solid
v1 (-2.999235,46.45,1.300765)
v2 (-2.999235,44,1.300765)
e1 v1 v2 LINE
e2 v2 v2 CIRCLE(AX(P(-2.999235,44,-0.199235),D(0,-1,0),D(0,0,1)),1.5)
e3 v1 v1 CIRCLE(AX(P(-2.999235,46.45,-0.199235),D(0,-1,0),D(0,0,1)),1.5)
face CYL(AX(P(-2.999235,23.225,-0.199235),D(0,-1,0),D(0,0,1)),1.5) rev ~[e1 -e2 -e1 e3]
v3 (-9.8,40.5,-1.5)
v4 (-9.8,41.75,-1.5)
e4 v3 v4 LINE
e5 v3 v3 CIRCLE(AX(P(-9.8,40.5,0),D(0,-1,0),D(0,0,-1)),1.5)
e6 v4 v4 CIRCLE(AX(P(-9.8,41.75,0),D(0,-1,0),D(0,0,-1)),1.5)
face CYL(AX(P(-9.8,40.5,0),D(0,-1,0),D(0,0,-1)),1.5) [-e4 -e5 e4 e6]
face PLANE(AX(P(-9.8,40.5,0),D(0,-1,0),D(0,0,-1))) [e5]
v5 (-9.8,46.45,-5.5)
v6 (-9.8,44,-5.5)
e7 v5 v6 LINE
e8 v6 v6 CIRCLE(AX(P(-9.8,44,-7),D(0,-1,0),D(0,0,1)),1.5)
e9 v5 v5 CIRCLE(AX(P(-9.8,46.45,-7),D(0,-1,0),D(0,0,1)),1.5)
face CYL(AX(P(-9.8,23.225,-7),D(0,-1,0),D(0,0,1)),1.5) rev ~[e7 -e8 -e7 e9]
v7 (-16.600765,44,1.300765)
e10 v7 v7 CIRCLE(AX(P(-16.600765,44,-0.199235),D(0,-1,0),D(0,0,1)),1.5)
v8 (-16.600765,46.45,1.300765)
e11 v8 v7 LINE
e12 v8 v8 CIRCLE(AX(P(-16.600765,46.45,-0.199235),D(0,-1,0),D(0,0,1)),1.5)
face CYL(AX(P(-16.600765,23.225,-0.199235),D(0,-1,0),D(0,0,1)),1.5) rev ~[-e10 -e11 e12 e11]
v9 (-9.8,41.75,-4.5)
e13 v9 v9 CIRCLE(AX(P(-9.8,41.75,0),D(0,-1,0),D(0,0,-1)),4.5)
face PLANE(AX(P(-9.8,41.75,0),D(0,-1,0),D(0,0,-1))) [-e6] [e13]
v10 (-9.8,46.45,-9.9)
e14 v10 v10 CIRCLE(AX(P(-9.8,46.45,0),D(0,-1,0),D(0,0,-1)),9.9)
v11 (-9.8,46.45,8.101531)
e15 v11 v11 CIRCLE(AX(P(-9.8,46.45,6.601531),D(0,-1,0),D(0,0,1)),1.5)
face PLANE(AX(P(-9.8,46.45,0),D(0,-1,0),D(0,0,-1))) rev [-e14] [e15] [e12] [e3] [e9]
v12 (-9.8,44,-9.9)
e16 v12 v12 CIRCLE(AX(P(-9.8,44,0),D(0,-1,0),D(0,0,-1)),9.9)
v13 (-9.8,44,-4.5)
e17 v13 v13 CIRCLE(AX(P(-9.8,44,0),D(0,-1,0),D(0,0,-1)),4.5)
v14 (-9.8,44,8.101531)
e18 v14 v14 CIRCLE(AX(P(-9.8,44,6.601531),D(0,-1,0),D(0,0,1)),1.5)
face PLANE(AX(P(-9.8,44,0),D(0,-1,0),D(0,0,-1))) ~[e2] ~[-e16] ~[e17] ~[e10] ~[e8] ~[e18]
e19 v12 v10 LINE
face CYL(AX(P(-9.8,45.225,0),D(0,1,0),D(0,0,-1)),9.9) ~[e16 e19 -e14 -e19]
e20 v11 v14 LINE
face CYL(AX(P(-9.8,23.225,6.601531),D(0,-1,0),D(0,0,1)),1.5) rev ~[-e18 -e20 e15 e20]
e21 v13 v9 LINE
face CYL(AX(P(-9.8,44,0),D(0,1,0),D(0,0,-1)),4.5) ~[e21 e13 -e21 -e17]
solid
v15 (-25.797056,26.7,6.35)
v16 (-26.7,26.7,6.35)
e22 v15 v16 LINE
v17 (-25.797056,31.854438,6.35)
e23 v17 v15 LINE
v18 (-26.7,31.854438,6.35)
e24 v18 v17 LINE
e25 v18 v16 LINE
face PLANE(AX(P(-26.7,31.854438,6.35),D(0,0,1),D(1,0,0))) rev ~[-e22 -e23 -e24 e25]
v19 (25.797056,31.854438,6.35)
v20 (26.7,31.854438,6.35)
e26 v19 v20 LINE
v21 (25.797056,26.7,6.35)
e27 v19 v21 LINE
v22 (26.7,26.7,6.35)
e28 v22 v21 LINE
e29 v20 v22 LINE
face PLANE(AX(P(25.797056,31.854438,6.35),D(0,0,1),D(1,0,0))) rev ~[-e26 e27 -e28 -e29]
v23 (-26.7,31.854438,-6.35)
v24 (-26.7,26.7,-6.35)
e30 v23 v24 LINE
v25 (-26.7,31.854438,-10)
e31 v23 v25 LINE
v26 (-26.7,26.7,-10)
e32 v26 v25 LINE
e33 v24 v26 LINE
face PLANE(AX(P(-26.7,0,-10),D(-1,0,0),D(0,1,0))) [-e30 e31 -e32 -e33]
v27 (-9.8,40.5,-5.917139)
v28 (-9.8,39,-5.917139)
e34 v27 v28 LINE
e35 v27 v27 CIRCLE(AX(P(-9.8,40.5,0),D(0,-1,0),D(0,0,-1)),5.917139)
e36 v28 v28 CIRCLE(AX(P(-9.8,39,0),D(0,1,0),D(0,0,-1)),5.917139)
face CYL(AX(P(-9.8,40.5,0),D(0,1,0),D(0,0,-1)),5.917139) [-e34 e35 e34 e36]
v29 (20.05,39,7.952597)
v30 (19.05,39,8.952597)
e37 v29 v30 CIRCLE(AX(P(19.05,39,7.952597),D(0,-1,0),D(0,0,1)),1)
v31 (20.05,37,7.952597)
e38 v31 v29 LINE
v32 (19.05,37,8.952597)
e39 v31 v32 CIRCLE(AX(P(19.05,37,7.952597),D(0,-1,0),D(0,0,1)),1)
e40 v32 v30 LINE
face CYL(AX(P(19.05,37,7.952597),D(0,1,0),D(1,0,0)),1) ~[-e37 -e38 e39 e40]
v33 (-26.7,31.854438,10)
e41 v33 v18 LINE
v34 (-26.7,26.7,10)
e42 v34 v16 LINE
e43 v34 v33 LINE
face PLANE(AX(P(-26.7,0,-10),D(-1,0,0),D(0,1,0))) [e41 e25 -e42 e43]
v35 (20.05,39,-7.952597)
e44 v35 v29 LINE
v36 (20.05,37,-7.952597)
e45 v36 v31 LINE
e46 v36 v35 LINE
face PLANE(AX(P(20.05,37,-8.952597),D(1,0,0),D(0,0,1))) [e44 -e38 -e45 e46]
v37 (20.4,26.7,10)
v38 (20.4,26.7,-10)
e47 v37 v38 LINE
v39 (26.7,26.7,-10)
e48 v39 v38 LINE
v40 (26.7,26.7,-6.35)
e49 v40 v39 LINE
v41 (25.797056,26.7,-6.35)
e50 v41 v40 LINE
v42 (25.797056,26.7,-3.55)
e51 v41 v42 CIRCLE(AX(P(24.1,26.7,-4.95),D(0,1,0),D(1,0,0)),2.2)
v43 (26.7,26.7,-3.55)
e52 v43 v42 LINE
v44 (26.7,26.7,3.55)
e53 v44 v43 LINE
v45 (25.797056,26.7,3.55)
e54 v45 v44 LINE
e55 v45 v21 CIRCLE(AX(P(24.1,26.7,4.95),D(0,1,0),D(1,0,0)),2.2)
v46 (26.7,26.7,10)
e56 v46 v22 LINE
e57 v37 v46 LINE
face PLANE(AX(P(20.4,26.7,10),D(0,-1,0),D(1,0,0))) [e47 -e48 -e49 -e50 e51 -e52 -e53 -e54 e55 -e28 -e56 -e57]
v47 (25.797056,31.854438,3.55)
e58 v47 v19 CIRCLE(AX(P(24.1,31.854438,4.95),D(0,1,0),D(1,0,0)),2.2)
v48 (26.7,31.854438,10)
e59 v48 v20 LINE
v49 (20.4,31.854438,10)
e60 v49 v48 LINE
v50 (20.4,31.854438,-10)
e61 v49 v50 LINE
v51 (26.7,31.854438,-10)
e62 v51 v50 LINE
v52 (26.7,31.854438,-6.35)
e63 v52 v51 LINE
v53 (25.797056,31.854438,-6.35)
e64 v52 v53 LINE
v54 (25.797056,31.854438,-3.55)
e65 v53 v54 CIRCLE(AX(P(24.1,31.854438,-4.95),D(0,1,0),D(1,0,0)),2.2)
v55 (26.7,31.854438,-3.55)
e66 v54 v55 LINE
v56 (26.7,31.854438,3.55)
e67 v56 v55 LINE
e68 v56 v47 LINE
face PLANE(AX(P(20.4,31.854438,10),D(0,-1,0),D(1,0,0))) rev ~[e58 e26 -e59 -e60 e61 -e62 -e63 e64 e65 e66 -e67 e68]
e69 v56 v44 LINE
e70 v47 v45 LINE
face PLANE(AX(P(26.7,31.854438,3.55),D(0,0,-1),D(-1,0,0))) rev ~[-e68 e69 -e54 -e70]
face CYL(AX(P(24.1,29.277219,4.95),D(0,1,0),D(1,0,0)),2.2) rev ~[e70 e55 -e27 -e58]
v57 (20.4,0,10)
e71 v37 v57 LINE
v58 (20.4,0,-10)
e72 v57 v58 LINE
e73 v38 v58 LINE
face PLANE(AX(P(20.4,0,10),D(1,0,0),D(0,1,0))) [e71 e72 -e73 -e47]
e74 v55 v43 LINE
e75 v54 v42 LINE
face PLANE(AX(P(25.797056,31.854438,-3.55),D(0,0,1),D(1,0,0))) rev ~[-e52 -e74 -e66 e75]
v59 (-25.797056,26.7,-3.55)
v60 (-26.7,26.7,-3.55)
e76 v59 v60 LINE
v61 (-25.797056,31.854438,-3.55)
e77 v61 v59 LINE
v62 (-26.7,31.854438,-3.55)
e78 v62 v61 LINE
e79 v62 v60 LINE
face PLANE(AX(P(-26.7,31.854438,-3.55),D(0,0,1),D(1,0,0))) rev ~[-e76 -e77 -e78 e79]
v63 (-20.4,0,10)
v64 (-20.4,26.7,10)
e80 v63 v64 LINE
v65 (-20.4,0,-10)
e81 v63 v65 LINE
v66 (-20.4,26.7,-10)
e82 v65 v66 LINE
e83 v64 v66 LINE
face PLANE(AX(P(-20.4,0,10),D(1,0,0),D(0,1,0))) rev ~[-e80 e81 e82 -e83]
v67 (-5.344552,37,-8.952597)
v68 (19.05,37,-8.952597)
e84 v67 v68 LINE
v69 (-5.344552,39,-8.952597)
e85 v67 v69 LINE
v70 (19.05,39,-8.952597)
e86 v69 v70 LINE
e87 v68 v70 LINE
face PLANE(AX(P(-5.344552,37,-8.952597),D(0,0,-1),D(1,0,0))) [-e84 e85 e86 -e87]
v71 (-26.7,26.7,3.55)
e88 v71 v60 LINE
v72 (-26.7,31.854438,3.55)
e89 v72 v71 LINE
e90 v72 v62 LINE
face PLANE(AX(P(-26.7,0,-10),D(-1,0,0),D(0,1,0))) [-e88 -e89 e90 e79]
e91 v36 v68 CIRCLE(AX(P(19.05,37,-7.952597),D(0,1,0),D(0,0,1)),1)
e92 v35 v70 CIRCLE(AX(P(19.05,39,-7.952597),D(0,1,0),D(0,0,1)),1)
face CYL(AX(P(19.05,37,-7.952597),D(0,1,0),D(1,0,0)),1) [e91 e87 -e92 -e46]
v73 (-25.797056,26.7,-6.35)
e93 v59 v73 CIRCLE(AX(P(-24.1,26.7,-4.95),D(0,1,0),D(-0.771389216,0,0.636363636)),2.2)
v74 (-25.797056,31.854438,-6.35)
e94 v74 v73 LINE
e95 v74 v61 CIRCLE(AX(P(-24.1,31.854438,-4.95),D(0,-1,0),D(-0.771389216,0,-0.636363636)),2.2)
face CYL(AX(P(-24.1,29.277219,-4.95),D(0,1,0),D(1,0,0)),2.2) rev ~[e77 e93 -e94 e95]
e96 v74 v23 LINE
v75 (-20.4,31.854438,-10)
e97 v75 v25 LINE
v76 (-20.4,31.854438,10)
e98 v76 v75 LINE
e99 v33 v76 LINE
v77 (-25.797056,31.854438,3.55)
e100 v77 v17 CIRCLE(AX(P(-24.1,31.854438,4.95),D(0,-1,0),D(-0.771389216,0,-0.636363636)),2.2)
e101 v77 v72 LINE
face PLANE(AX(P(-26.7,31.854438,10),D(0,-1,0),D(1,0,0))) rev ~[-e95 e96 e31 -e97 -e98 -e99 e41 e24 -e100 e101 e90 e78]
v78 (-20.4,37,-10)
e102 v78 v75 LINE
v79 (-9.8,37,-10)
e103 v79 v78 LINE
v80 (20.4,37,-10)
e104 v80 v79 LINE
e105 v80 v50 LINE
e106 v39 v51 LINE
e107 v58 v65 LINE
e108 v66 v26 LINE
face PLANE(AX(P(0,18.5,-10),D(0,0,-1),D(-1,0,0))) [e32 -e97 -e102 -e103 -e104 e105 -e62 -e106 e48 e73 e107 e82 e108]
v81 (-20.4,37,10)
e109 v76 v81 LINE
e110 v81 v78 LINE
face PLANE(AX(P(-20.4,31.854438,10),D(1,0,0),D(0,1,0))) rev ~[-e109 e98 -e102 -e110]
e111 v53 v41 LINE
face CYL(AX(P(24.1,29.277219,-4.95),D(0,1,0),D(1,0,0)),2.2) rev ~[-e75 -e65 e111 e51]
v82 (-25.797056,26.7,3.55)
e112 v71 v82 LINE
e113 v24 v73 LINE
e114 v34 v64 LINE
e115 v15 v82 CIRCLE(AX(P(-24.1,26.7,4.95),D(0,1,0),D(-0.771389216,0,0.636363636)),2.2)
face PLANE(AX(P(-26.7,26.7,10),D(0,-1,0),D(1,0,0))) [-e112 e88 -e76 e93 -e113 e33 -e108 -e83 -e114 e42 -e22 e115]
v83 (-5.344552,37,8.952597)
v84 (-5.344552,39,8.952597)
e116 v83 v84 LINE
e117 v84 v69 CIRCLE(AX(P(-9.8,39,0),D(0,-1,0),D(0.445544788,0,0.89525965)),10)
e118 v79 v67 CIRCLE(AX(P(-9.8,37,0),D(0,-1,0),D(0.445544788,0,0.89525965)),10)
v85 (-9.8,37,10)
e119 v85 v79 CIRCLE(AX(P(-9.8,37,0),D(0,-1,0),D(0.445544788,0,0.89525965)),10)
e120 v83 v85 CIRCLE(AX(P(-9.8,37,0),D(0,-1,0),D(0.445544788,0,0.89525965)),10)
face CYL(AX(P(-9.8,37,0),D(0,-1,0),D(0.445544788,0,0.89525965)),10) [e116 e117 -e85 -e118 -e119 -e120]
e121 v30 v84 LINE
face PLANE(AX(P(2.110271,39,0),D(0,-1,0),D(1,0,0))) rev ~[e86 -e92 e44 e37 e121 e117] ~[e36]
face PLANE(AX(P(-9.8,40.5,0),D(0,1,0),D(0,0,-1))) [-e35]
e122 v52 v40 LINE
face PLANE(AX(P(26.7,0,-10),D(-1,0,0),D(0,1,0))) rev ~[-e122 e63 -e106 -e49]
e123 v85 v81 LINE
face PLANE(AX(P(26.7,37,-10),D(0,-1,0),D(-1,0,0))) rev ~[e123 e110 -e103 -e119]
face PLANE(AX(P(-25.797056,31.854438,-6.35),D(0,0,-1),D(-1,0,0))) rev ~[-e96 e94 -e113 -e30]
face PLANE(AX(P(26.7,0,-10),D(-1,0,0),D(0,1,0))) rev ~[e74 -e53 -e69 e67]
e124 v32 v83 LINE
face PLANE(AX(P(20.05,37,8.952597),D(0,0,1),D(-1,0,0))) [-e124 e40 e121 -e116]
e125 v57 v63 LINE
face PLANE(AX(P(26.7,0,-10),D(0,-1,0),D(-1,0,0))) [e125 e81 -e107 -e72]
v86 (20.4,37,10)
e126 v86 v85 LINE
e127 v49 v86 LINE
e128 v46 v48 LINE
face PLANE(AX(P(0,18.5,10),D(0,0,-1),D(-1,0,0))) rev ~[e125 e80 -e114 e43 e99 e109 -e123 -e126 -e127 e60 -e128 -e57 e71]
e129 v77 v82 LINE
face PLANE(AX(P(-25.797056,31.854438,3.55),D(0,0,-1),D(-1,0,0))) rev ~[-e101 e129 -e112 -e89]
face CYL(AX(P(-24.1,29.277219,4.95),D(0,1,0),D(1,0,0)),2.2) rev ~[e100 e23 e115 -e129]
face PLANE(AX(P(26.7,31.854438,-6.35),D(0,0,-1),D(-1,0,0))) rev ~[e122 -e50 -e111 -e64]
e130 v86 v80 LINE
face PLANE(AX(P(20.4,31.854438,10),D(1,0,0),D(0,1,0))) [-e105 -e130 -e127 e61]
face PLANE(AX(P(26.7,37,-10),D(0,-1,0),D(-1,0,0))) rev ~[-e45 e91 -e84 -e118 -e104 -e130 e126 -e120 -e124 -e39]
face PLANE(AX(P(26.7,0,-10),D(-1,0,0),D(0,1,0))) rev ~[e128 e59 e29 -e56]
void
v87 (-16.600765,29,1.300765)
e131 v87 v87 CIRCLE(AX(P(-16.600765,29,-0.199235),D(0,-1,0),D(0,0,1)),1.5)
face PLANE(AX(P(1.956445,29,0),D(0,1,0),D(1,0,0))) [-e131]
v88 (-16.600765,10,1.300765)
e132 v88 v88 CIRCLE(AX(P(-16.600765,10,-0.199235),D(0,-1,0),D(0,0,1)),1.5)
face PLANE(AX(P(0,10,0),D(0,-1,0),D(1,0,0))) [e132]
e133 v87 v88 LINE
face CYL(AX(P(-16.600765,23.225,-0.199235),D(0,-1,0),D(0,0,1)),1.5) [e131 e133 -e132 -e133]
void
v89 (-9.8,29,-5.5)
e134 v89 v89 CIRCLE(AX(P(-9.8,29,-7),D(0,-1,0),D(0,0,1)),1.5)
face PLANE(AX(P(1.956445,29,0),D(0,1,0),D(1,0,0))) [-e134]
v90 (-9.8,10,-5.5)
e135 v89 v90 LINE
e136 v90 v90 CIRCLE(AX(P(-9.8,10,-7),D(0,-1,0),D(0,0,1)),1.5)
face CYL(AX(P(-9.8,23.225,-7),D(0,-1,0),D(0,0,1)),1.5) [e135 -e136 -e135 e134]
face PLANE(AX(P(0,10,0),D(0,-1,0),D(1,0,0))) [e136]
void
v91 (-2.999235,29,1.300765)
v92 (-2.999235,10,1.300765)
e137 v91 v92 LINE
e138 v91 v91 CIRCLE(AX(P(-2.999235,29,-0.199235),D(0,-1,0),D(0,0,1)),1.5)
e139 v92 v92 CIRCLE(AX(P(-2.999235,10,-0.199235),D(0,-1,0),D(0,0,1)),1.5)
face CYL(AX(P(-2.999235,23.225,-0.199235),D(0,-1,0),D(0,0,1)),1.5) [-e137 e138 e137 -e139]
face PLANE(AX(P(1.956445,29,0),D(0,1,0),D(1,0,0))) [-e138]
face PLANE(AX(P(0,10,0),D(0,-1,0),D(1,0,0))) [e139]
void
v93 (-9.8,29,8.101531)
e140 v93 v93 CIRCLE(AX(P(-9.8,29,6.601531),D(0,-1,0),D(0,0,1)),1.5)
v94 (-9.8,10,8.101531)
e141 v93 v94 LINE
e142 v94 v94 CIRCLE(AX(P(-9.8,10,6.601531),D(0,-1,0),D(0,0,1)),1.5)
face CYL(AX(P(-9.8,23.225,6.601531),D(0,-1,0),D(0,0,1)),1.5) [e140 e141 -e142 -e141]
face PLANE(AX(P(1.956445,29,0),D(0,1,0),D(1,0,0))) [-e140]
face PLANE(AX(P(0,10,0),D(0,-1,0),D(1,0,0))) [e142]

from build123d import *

# Parameters (mm, degrees)
SKETCH9_W                         = 53.4
SKETCH9_H                         = 37
BOSS_EXTRUDE3_DEPTH               = 20
BOSS_EXTRUDE4_DEPTH               = 2
SKETCH15_W                        = 6.3
SKETCH15_H                        = 26.7
CUT_EXTRUDE1_DEPTH                = 52.321438016
SKETCH16_W                        = 6.3
SKETCH16_H                        = 5.145561791
CUT_EXTRUDE2_DEPTH                = 52.321438016
SKETCH17_W                        = 6.3
SKETCH17_H                        = 5.145561791
CUT_EXTRUDE3_DEPTH                = 52.321438016
CUT_EXTRUDE4_DEPTH                = 43.750382848
CUT_EXTRUDE5_DEPTH                = 43.750382848
SKETCH30_W                        = 6.3
SKETCH30_H                        = 26.7
CUT_EXTRUDE6_DEPTH                = 52.321438016
CUT_EXTRUDE7_DEPTH                = 43.750382848
CUT_EXTRUDE8_DEPTH                = 43.750382848
SKETCH40_W                        = 5.917139292
SKETCH40_H                        = 1.5
SKETCH47_W                        = 2.2
SKETCH47_H                        = 5.154438209
SKETCH55_W                        = 2.2
SKETCH55_H                        = 5.154438209
SKETCH64_W                        = 2.2
SKETCH64_H                        = 5.154438209
SKETCH72_W                        = 2.2
SKETCH72_H                        = 5.154438209
F_3_0_3_DIAMETER_HOLE2_D          = 3
F_3_0_3_DIAMETER_HOLE2_DEPTH      = 1.5
FILLET1_R                         = 1
SKETCH76_W                        = 9.9
SKETCH76_H                        = 2.45
SKETCH85_R                        = 4.5
BOSS_EXTRUDE5_DEPTH               = 2.25
BOSS_EXTRUDE6_START               = 1.25
SKETCH86_R                        = 1.5
BOSS_EXTRUDE6_DEPTH               = 1.25
SKETCH87_W                        = 1.5
SKETCH87_H                        = 46.45
F_3_0_3_DIAMETER_HOLE3_AT_2_COUNT = 2
F_3_0_3_DIAMETER_HOLE3_AT_2_PITCH = 9.617734802
F_3_0_3_DIAMETER_HOLE3_AT_3_COUNT = 2
F_3_0_3_DIAMETER_HOLE3_AT_3_PITCH = 13.601530997
F_3_0_3_DIAMETER_HOLE3_AT_4_COUNT = 2
F_3_0_3_DIAMETER_HOLE3_AT_4_PITCH = 9.617734802
SKETCH89_W                        = 40.8
SKETCH89_H                        = 20
BOSS_EXTRUDE7_DEPTH               = 10
BOSS_EXTRUDE8_DEPTH               = 10
SKETCH91_R                        = 5.917139292
BOSS_EXTRUDE9_DEPTH               = 10


with BuildPart() as part:
    # Sketch9 → Boss-Extrude3 (new body)
    with BuildSketch(Plane(origin=(0, 0, -10), x_dir=(-1, 0, 0), z_dir=(0, 0, -1))):
        with Locations((0, 18.5)):
            Rectangle(SKETCH9_W, SKETCH9_H)
    extrude(amount=-BOSS_EXTRUDE3_DEPTH)

    # Sketch10 → Boss-Extrude4 (add)
    with BuildSketch(Plane(origin=(0, 37, 0), x_dir=(-1, 0, 0), z_dir=(0, 1, 0))):
        with BuildLine():
            Line((-20.05, -8.952596504), (-20.05, 8.952596504))
            Line((-20.05, 8.952596504), (5.344552118, 8.952596504))
            ThreePointArc((5.344552118, 8.952596504), (19.8, 0), (5.344552118, -8.952596504))
            Line((5.344552118, -8.952596504), (-20.05, -8.952596504))
        make_face()
    extrude(amount=BOSS_EXTRUDE4_DEPTH)

    # Sketch15 → Cut-Extrude1 (cut, through all)
    with BuildSketch(Plane.XY.offset(10)):
        with Locations((-23.55, 13.35)):
            Rectangle(SKETCH15_W, SKETCH15_H)
    extrude(amount=-CUT_EXTRUDE1_DEPTH, mode=Mode.SUBTRACT)

    # Sketch16 → Cut-Extrude2 (cut, through all)
    with BuildSketch(Plane.XY.offset(10)):
        with Locations((-23.55, 34.427219104)):
            Rectangle(SKETCH16_W, SKETCH16_H)
    extrude(amount=-CUT_EXTRUDE2_DEPTH, mode=Mode.SUBTRACT)

    # Sketch17 → Cut-Extrude3 (cut, through all)
    with BuildSketch(Plane.XY.offset(10)):
        with Locations((23.55, 34.427219104)):
            Rectangle(SKETCH17_W, SKETCH17_H)
    extrude(amount=-CUT_EXTRUDE3_DEPTH, mode=Mode.SUBTRACT)

    # Sketch23 → Cut-Extrude4 (cut, through all)
    with BuildSketch(Plane(origin=(0, 31.854438209, 0), x_dir=(1, 0, 0), z_dir=(0, 1, 0))):
        with BuildLine():
            Line((-26.7, -3.55), (-26.7, -6.35))
            Line((-26.7, -6.35), (-25.797056275, -6.35))
            ThreePointArc((-25.797056275, -6.35), (-26.3, -4.95), (-25.797056275, -3.55))
            Line((-25.797056275, -3.55), (-26.7, -3.55))
        make_face()
    extrude(amount=-CUT_EXTRUDE4_DEPTH, mode=Mode.SUBTRACT)

    # Sketch24 → Cut-Extrude5 (cut, through all)
    with BuildSketch(Plane(origin=(0, 31.854438209, 0), x_dir=(-1, 0, 0), z_dir=(0, 1, 0))):
        with BuildLine():
            Line((26.7, -3.55), (25.797056275, -3.55))
            ThreePointArc((25.797056275, -3.55), (26.3, -4.95), (25.797056275, -6.35))
            Line((25.797056275, -6.35), (26.7, -6.35))
            Line((26.7, -6.35), (26.7, -3.55))
        make_face()
    extrude(amount=-CUT_EXTRUDE5_DEPTH, mode=Mode.SUBTRACT)

    # Sketch30 → Cut-Extrude6 (cut, through all)
    with BuildSketch(Plane.XY.offset(10)):
        with Locations((23.55, 13.35)):
            Rectangle(SKETCH30_W, SKETCH30_H)
    extrude(amount=-CUT_EXTRUDE6_DEPTH, mode=Mode.SUBTRACT)

    # Sketch37 → Cut-Extrude7 (cut, through all)
    with BuildSketch(Plane(origin=(0, 31.854438209, 0), x_dir=(1, 0, 0), z_dir=(0, 1, 0))):
        with BuildLine():
            Line((26.7, 3.55), (26.7, 6.35))
            Line((26.7, 6.35), (25.797056275, 6.35))
            ThreePointArc((25.797056275, 6.35), (26.3, 4.95), (25.797056275, 3.55))
            Line((25.797056275, 3.55), (26.7, 3.55))
        make_face()
    extrude(amount=-CUT_EXTRUDE7_DEPTH, mode=Mode.SUBTRACT)

    # Sketch38 → Cut-Extrude8 (cut, through all)
    with BuildSketch(Plane(origin=(0, 31.854438209, 0), x_dir=(-1, 0, 0), z_dir=(0, 1, 0))):
        with BuildLine():
            Line((-26.7, 3.55), (-25.797056275, 3.55))
            ThreePointArc((-25.797056275, 3.55), (-26.3, 4.95), (-25.797056275, 6.35))
            Line((-25.797056275, 6.35), (-26.7, 6.35))
            Line((-26.7, 6.35), (-26.7, 3.55))
        make_face()
    extrude(amount=-CUT_EXTRUDE8_DEPTH, mode=Mode.SUBTRACT)

    # Sketch40 → Revolve2 (revolve)
    with BuildSketch(Plane.XY, mode=Mode.PRIVATE) as revolve2_sk:
        with Locations((-6.841430354, 39.75)):
            Rectangle(SKETCH40_W, SKETCH40_H)
    revolve(revolve2_sk.sketch.rotate(Axis((-9.8, 40.5, 0), (0, -1, 0)), 270), axis=Axis((-9.8, 40.5, 0), (0, -1, 0)))

    # Sketch47 → Cut-Revolve1 (revolve, cut)
    with BuildSketch(Plane(origin=(0, 0, -4.95), x_dir=(-1, 0, 0), z_dir=(0, 0, -1))):
        with Locations((23, 29.277219105)):
            Rectangle(SKETCH47_W, SKETCH47_H)
    revolve(axis=Axis((-24.1, 26.7, -4.95), (0, 1, 0)), mode=Mode.SUBTRACT)

    # Sketch55 → Cut-Revolve2 (revolve, cut)
    with BuildSketch(Plane(origin=(0, 0, 4.95), x_dir=(-1, 0, 0), z_dir=(0, 0, -1))):
        with Locations((-25.2, 29.277219105)):
            Rectangle(SKETCH55_W, SKETCH55_H)
    revolve(axis=Axis((24.1, 26.7, 4.95), (0, 1, 0)), mode=Mode.SUBTRACT)

    # Sketch64 → Cut-Revolve3 (revolve, cut)
    with BuildSketch(Plane(origin=(0, 0, 4.95), x_dir=(-1, 0, 0), z_dir=(0, 0, -1))):
        with Locations((23, 29.277219105)):
            Rectangle(SKETCH64_W, SKETCH64_H)
    revolve(axis=Axis((-24.1, 26.7, 4.95), (0, 1, 0)), mode=Mode.SUBTRACT)

    # Sketch72 → Cut-Revolve4 (revolve, cut)
    with BuildSketch(Plane(origin=(0, 0, -4.95), x_dir=(-1, 0, 0), z_dir=(0, 0, -1))):
        with Locations((-25.2, 29.277219105)):
            Rectangle(SKETCH72_W, SKETCH72_H)
    revolve(axis=Axis((24.1, 26.7, -4.95), (0, 1, 0)), mode=Mode.SUBTRACT)

    # Ø3.0 (3) Diameter Hole2
    with Locations(Plane(origin=(0, 40.5, 0), x_dir=(1, 0, 0), z_dir=(0, 1, 0))):
        with Locations((-9.8, 0)):
            Hole(F_3_0_3_DIAMETER_HOLE2_D / 2, depth=F_3_0_3_DIAMETER_HOLE2_DEPTH)

    # Fillet1
    fillet1_edges = [part.edges().sort_by_distance(p)[0] for p in [
        (20.05, 38, 8.952596504),
        (20.05, 38, -8.952596504),
    ]]
    fillet(fillet1_edges, radius=FILLET1_R)


with BuildPart() as body_2:
    # Sketch76 → Revolve3 (revolve)
    with BuildSketch(Plane.XY, mode=Mode.PRIVATE) as revolve3_sk:
        with Locations((-4.85, 45.225)):
            Rectangle(SKETCH76_W, SKETCH76_H)
    revolve(revolve3_sk.sketch.rotate(Axis((-9.8, 46.45, 0), (0, -1, 0)), 270), axis=Axis((-9.8, 46.45, 0), (0, -1, 0)))

    # Sketch85 → Boss-Extrude5 (add)
    with BuildSketch(Plane(origin=(0, 44, 0), x_dir=(-1, 0, 0), z_dir=(0, -1, 0))):
        with Locations(Location((9.8, 0, 0), (0, 0, 90))):
            Circle(SKETCH85_R)
    extrude(amount=BOSS_EXTRUDE5_DEPTH)

    # Sketch86 → Boss-Extrude6 (add)
    with BuildSketch(Plane.XZ.offset(-41.75).offset(BOSS_EXTRUDE6_START)):
        with Locations(Location((-9.8, 0, 0), (0, 0, 270))):
            Circle(SKETCH86_R)
    extrude(amount=-BOSS_EXTRUDE6_DEPTH)


with BuildPart() as f_3_0_3_diameter_hole3_tool:
    # Sketch87 → Ø3.0 (3) Diameter Hole3 (revolve)
    with BuildSketch(Plane(origin=(-2.999234502, 46.45, -0.199234502), x_dir=(0, 0, 1), z_dir=(1, 0, 0))):
        with Locations((0.75, 23.225)):
            Rectangle(SKETCH87_W, SKETCH87_H)
    f_3_0_3_diameter_hole3 = revolve(axis=Axis((-2.999234502, 52.8, -0.199234502), (0, -1, 0)))


with BuildPart() as part_1:
    add(part.part)

    # Ø3.0 (3) Diameter Hole3: cut by f_3_0_3_diameter_hole3_tool
    add(f_3_0_3_diameter_hole3_tool.part, mode=Mode.SUBTRACT)


with BuildPart() as body_2_1:
    add(body_2.part)

    # Ø3.0 (3) Diameter Hole3: cut by f_3_0_3_diameter_hole3_tool
    add(f_3_0_3_diameter_hole3_tool.part, mode=Mode.SUBTRACT)


with BuildPart() as f_3_0_3_diameter_hole3_at_2_tool:
    # Ø3.0 (3) Diameter Hole3 at 2: Ø3.0 (3) Diameter Hole3 ×2
    with Locations(*[Vector(-0.7071067811865412, 0, 0.7071067811865539) * (i * F_3_0_3_DIAMETER_HOLE3_AT_2_PITCH) for i in range(1, F_3_0_3_DIAMETER_HOLE3_AT_2_COUNT)]):
        add(f_3_0_3_diameter_hole3)


with BuildPart() as part_2:
    add(part_1.part)

    # Ø3.0 (3) Diameter Hole3 at 2: cut by f_3_0_3_diameter_hole3_at_2_tool
    add(f_3_0_3_diameter_hole3_at_2_tool.part, mode=Mode.SUBTRACT)


with BuildPart() as body_2_2:
    add(body_2_1.part)

    # Ø3.0 (3) Diameter Hole3 at 2: cut by f_3_0_3_diameter_hole3_at_2_tool
    add(f_3_0_3_diameter_hole3_at_2_tool.part, mode=Mode.SUBTRACT)


with BuildPart() as f_3_0_3_diameter_hole3_at_3_tool:
    # Ø3.0 (3) Diameter Hole3 at 3: Ø3.0 (3) Diameter Hole3 ×2
    with Locations(*[(-i * F_3_0_3_DIAMETER_HOLE3_AT_3_PITCH, 0, 0) for i in range(1, F_3_0_3_DIAMETER_HOLE3_AT_3_COUNT)]):
        add(f_3_0_3_diameter_hole3)


with BuildPart() as part_3:
    add(part_2.part)

    # Ø3.0 (3) Diameter Hole3 at 3: cut by f_3_0_3_diameter_hole3_at_3_tool
    add(f_3_0_3_diameter_hole3_at_3_tool.part, mode=Mode.SUBTRACT)


with BuildPart() as body_2_3:
    add(body_2_2.part)

    # Ø3.0 (3) Diameter Hole3 at 3: cut by f_3_0_3_diameter_hole3_at_3_tool
    add(f_3_0_3_diameter_hole3_at_3_tool.part, mode=Mode.SUBTRACT)


with BuildPart() as f_3_0_3_diameter_hole3_at_4_tool:
    # Ø3.0 (3) Diameter Hole3 at 4: Ø3.0 (3) Diameter Hole3 ×2
    with Locations(*[Vector(-0.707106781186556, 0, -0.7071067811865391) * (i * F_3_0_3_DIAMETER_HOLE3_AT_4_PITCH) for i in range(1, F_3_0_3_DIAMETER_HOLE3_AT_4_COUNT)]):
        add(f_3_0_3_diameter_hole3)


with BuildPart() as part_4:
    add(part_3.part)

    # Ø3.0 (3) Diameter Hole3 at 4: cut by f_3_0_3_diameter_hole3_at_4_tool
    add(f_3_0_3_diameter_hole3_at_4_tool.part, mode=Mode.SUBTRACT)

    # Sketch89 → Boss-Extrude7 (add)
    with BuildSketch(Plane.XZ):
        Rectangle(SKETCH89_W, SKETCH89_H)
    extrude(amount=-BOSS_EXTRUDE7_DEPTH)

    # Sketch90 → Boss-Extrude8 (add)
    with BuildSketch(Plane(origin=(0, 39, 0), x_dir=(1, 0, 0), z_dir=(0, 1, 0))):
        with BuildLine():
            Line((20.05, -7.952596504), (20.05, 7.952596504))
            ThreePointArc((20.05, 7.952596504), (19.757106781, 8.659703286), (19.05, 8.952596504))
            Line((19.05, 8.952596504), (-5.344552118, 8.952596504))
            ThreePointArc((-5.344552118, 8.952596504), (-19.8, 0), (-5.344552118, -8.952596504))
            Line((-5.344552118, -8.952596504), (19.05, -8.952596504))
            ThreePointArc((19.05, -8.952596504), (19.757106781, -8.659703286), (20.05, -7.952596504))
        make_face()
    extrude(amount=-BOSS_EXTRUDE8_DEPTH)

    # Sketch91 → Boss-Extrude9 (add)
    with BuildSketch(Plane(origin=(0, 40.5, 0), x_dir=(1, 0, 0), z_dir=(0, 1, 0))):
        with Locations(Location((-9.8, 0, 0), (0, 0, 90))):
            Circle(SKETCH91_R)
    extrude(amount=-BOSS_EXTRUDE9_DEPTH)


with BuildPart() as body_2_4:
    add(body_2_3.part)

    # Ø3.0 (3) Diameter Hole3 at 4: cut by f_3_0_3_diameter_hole3_at_4_tool
    add(f_3_0_3_diameter_hole3_at_4_tool.part, mode=Mode.SUBTRACT)


solid = Compound([part_4.part, body_2_4.part])
